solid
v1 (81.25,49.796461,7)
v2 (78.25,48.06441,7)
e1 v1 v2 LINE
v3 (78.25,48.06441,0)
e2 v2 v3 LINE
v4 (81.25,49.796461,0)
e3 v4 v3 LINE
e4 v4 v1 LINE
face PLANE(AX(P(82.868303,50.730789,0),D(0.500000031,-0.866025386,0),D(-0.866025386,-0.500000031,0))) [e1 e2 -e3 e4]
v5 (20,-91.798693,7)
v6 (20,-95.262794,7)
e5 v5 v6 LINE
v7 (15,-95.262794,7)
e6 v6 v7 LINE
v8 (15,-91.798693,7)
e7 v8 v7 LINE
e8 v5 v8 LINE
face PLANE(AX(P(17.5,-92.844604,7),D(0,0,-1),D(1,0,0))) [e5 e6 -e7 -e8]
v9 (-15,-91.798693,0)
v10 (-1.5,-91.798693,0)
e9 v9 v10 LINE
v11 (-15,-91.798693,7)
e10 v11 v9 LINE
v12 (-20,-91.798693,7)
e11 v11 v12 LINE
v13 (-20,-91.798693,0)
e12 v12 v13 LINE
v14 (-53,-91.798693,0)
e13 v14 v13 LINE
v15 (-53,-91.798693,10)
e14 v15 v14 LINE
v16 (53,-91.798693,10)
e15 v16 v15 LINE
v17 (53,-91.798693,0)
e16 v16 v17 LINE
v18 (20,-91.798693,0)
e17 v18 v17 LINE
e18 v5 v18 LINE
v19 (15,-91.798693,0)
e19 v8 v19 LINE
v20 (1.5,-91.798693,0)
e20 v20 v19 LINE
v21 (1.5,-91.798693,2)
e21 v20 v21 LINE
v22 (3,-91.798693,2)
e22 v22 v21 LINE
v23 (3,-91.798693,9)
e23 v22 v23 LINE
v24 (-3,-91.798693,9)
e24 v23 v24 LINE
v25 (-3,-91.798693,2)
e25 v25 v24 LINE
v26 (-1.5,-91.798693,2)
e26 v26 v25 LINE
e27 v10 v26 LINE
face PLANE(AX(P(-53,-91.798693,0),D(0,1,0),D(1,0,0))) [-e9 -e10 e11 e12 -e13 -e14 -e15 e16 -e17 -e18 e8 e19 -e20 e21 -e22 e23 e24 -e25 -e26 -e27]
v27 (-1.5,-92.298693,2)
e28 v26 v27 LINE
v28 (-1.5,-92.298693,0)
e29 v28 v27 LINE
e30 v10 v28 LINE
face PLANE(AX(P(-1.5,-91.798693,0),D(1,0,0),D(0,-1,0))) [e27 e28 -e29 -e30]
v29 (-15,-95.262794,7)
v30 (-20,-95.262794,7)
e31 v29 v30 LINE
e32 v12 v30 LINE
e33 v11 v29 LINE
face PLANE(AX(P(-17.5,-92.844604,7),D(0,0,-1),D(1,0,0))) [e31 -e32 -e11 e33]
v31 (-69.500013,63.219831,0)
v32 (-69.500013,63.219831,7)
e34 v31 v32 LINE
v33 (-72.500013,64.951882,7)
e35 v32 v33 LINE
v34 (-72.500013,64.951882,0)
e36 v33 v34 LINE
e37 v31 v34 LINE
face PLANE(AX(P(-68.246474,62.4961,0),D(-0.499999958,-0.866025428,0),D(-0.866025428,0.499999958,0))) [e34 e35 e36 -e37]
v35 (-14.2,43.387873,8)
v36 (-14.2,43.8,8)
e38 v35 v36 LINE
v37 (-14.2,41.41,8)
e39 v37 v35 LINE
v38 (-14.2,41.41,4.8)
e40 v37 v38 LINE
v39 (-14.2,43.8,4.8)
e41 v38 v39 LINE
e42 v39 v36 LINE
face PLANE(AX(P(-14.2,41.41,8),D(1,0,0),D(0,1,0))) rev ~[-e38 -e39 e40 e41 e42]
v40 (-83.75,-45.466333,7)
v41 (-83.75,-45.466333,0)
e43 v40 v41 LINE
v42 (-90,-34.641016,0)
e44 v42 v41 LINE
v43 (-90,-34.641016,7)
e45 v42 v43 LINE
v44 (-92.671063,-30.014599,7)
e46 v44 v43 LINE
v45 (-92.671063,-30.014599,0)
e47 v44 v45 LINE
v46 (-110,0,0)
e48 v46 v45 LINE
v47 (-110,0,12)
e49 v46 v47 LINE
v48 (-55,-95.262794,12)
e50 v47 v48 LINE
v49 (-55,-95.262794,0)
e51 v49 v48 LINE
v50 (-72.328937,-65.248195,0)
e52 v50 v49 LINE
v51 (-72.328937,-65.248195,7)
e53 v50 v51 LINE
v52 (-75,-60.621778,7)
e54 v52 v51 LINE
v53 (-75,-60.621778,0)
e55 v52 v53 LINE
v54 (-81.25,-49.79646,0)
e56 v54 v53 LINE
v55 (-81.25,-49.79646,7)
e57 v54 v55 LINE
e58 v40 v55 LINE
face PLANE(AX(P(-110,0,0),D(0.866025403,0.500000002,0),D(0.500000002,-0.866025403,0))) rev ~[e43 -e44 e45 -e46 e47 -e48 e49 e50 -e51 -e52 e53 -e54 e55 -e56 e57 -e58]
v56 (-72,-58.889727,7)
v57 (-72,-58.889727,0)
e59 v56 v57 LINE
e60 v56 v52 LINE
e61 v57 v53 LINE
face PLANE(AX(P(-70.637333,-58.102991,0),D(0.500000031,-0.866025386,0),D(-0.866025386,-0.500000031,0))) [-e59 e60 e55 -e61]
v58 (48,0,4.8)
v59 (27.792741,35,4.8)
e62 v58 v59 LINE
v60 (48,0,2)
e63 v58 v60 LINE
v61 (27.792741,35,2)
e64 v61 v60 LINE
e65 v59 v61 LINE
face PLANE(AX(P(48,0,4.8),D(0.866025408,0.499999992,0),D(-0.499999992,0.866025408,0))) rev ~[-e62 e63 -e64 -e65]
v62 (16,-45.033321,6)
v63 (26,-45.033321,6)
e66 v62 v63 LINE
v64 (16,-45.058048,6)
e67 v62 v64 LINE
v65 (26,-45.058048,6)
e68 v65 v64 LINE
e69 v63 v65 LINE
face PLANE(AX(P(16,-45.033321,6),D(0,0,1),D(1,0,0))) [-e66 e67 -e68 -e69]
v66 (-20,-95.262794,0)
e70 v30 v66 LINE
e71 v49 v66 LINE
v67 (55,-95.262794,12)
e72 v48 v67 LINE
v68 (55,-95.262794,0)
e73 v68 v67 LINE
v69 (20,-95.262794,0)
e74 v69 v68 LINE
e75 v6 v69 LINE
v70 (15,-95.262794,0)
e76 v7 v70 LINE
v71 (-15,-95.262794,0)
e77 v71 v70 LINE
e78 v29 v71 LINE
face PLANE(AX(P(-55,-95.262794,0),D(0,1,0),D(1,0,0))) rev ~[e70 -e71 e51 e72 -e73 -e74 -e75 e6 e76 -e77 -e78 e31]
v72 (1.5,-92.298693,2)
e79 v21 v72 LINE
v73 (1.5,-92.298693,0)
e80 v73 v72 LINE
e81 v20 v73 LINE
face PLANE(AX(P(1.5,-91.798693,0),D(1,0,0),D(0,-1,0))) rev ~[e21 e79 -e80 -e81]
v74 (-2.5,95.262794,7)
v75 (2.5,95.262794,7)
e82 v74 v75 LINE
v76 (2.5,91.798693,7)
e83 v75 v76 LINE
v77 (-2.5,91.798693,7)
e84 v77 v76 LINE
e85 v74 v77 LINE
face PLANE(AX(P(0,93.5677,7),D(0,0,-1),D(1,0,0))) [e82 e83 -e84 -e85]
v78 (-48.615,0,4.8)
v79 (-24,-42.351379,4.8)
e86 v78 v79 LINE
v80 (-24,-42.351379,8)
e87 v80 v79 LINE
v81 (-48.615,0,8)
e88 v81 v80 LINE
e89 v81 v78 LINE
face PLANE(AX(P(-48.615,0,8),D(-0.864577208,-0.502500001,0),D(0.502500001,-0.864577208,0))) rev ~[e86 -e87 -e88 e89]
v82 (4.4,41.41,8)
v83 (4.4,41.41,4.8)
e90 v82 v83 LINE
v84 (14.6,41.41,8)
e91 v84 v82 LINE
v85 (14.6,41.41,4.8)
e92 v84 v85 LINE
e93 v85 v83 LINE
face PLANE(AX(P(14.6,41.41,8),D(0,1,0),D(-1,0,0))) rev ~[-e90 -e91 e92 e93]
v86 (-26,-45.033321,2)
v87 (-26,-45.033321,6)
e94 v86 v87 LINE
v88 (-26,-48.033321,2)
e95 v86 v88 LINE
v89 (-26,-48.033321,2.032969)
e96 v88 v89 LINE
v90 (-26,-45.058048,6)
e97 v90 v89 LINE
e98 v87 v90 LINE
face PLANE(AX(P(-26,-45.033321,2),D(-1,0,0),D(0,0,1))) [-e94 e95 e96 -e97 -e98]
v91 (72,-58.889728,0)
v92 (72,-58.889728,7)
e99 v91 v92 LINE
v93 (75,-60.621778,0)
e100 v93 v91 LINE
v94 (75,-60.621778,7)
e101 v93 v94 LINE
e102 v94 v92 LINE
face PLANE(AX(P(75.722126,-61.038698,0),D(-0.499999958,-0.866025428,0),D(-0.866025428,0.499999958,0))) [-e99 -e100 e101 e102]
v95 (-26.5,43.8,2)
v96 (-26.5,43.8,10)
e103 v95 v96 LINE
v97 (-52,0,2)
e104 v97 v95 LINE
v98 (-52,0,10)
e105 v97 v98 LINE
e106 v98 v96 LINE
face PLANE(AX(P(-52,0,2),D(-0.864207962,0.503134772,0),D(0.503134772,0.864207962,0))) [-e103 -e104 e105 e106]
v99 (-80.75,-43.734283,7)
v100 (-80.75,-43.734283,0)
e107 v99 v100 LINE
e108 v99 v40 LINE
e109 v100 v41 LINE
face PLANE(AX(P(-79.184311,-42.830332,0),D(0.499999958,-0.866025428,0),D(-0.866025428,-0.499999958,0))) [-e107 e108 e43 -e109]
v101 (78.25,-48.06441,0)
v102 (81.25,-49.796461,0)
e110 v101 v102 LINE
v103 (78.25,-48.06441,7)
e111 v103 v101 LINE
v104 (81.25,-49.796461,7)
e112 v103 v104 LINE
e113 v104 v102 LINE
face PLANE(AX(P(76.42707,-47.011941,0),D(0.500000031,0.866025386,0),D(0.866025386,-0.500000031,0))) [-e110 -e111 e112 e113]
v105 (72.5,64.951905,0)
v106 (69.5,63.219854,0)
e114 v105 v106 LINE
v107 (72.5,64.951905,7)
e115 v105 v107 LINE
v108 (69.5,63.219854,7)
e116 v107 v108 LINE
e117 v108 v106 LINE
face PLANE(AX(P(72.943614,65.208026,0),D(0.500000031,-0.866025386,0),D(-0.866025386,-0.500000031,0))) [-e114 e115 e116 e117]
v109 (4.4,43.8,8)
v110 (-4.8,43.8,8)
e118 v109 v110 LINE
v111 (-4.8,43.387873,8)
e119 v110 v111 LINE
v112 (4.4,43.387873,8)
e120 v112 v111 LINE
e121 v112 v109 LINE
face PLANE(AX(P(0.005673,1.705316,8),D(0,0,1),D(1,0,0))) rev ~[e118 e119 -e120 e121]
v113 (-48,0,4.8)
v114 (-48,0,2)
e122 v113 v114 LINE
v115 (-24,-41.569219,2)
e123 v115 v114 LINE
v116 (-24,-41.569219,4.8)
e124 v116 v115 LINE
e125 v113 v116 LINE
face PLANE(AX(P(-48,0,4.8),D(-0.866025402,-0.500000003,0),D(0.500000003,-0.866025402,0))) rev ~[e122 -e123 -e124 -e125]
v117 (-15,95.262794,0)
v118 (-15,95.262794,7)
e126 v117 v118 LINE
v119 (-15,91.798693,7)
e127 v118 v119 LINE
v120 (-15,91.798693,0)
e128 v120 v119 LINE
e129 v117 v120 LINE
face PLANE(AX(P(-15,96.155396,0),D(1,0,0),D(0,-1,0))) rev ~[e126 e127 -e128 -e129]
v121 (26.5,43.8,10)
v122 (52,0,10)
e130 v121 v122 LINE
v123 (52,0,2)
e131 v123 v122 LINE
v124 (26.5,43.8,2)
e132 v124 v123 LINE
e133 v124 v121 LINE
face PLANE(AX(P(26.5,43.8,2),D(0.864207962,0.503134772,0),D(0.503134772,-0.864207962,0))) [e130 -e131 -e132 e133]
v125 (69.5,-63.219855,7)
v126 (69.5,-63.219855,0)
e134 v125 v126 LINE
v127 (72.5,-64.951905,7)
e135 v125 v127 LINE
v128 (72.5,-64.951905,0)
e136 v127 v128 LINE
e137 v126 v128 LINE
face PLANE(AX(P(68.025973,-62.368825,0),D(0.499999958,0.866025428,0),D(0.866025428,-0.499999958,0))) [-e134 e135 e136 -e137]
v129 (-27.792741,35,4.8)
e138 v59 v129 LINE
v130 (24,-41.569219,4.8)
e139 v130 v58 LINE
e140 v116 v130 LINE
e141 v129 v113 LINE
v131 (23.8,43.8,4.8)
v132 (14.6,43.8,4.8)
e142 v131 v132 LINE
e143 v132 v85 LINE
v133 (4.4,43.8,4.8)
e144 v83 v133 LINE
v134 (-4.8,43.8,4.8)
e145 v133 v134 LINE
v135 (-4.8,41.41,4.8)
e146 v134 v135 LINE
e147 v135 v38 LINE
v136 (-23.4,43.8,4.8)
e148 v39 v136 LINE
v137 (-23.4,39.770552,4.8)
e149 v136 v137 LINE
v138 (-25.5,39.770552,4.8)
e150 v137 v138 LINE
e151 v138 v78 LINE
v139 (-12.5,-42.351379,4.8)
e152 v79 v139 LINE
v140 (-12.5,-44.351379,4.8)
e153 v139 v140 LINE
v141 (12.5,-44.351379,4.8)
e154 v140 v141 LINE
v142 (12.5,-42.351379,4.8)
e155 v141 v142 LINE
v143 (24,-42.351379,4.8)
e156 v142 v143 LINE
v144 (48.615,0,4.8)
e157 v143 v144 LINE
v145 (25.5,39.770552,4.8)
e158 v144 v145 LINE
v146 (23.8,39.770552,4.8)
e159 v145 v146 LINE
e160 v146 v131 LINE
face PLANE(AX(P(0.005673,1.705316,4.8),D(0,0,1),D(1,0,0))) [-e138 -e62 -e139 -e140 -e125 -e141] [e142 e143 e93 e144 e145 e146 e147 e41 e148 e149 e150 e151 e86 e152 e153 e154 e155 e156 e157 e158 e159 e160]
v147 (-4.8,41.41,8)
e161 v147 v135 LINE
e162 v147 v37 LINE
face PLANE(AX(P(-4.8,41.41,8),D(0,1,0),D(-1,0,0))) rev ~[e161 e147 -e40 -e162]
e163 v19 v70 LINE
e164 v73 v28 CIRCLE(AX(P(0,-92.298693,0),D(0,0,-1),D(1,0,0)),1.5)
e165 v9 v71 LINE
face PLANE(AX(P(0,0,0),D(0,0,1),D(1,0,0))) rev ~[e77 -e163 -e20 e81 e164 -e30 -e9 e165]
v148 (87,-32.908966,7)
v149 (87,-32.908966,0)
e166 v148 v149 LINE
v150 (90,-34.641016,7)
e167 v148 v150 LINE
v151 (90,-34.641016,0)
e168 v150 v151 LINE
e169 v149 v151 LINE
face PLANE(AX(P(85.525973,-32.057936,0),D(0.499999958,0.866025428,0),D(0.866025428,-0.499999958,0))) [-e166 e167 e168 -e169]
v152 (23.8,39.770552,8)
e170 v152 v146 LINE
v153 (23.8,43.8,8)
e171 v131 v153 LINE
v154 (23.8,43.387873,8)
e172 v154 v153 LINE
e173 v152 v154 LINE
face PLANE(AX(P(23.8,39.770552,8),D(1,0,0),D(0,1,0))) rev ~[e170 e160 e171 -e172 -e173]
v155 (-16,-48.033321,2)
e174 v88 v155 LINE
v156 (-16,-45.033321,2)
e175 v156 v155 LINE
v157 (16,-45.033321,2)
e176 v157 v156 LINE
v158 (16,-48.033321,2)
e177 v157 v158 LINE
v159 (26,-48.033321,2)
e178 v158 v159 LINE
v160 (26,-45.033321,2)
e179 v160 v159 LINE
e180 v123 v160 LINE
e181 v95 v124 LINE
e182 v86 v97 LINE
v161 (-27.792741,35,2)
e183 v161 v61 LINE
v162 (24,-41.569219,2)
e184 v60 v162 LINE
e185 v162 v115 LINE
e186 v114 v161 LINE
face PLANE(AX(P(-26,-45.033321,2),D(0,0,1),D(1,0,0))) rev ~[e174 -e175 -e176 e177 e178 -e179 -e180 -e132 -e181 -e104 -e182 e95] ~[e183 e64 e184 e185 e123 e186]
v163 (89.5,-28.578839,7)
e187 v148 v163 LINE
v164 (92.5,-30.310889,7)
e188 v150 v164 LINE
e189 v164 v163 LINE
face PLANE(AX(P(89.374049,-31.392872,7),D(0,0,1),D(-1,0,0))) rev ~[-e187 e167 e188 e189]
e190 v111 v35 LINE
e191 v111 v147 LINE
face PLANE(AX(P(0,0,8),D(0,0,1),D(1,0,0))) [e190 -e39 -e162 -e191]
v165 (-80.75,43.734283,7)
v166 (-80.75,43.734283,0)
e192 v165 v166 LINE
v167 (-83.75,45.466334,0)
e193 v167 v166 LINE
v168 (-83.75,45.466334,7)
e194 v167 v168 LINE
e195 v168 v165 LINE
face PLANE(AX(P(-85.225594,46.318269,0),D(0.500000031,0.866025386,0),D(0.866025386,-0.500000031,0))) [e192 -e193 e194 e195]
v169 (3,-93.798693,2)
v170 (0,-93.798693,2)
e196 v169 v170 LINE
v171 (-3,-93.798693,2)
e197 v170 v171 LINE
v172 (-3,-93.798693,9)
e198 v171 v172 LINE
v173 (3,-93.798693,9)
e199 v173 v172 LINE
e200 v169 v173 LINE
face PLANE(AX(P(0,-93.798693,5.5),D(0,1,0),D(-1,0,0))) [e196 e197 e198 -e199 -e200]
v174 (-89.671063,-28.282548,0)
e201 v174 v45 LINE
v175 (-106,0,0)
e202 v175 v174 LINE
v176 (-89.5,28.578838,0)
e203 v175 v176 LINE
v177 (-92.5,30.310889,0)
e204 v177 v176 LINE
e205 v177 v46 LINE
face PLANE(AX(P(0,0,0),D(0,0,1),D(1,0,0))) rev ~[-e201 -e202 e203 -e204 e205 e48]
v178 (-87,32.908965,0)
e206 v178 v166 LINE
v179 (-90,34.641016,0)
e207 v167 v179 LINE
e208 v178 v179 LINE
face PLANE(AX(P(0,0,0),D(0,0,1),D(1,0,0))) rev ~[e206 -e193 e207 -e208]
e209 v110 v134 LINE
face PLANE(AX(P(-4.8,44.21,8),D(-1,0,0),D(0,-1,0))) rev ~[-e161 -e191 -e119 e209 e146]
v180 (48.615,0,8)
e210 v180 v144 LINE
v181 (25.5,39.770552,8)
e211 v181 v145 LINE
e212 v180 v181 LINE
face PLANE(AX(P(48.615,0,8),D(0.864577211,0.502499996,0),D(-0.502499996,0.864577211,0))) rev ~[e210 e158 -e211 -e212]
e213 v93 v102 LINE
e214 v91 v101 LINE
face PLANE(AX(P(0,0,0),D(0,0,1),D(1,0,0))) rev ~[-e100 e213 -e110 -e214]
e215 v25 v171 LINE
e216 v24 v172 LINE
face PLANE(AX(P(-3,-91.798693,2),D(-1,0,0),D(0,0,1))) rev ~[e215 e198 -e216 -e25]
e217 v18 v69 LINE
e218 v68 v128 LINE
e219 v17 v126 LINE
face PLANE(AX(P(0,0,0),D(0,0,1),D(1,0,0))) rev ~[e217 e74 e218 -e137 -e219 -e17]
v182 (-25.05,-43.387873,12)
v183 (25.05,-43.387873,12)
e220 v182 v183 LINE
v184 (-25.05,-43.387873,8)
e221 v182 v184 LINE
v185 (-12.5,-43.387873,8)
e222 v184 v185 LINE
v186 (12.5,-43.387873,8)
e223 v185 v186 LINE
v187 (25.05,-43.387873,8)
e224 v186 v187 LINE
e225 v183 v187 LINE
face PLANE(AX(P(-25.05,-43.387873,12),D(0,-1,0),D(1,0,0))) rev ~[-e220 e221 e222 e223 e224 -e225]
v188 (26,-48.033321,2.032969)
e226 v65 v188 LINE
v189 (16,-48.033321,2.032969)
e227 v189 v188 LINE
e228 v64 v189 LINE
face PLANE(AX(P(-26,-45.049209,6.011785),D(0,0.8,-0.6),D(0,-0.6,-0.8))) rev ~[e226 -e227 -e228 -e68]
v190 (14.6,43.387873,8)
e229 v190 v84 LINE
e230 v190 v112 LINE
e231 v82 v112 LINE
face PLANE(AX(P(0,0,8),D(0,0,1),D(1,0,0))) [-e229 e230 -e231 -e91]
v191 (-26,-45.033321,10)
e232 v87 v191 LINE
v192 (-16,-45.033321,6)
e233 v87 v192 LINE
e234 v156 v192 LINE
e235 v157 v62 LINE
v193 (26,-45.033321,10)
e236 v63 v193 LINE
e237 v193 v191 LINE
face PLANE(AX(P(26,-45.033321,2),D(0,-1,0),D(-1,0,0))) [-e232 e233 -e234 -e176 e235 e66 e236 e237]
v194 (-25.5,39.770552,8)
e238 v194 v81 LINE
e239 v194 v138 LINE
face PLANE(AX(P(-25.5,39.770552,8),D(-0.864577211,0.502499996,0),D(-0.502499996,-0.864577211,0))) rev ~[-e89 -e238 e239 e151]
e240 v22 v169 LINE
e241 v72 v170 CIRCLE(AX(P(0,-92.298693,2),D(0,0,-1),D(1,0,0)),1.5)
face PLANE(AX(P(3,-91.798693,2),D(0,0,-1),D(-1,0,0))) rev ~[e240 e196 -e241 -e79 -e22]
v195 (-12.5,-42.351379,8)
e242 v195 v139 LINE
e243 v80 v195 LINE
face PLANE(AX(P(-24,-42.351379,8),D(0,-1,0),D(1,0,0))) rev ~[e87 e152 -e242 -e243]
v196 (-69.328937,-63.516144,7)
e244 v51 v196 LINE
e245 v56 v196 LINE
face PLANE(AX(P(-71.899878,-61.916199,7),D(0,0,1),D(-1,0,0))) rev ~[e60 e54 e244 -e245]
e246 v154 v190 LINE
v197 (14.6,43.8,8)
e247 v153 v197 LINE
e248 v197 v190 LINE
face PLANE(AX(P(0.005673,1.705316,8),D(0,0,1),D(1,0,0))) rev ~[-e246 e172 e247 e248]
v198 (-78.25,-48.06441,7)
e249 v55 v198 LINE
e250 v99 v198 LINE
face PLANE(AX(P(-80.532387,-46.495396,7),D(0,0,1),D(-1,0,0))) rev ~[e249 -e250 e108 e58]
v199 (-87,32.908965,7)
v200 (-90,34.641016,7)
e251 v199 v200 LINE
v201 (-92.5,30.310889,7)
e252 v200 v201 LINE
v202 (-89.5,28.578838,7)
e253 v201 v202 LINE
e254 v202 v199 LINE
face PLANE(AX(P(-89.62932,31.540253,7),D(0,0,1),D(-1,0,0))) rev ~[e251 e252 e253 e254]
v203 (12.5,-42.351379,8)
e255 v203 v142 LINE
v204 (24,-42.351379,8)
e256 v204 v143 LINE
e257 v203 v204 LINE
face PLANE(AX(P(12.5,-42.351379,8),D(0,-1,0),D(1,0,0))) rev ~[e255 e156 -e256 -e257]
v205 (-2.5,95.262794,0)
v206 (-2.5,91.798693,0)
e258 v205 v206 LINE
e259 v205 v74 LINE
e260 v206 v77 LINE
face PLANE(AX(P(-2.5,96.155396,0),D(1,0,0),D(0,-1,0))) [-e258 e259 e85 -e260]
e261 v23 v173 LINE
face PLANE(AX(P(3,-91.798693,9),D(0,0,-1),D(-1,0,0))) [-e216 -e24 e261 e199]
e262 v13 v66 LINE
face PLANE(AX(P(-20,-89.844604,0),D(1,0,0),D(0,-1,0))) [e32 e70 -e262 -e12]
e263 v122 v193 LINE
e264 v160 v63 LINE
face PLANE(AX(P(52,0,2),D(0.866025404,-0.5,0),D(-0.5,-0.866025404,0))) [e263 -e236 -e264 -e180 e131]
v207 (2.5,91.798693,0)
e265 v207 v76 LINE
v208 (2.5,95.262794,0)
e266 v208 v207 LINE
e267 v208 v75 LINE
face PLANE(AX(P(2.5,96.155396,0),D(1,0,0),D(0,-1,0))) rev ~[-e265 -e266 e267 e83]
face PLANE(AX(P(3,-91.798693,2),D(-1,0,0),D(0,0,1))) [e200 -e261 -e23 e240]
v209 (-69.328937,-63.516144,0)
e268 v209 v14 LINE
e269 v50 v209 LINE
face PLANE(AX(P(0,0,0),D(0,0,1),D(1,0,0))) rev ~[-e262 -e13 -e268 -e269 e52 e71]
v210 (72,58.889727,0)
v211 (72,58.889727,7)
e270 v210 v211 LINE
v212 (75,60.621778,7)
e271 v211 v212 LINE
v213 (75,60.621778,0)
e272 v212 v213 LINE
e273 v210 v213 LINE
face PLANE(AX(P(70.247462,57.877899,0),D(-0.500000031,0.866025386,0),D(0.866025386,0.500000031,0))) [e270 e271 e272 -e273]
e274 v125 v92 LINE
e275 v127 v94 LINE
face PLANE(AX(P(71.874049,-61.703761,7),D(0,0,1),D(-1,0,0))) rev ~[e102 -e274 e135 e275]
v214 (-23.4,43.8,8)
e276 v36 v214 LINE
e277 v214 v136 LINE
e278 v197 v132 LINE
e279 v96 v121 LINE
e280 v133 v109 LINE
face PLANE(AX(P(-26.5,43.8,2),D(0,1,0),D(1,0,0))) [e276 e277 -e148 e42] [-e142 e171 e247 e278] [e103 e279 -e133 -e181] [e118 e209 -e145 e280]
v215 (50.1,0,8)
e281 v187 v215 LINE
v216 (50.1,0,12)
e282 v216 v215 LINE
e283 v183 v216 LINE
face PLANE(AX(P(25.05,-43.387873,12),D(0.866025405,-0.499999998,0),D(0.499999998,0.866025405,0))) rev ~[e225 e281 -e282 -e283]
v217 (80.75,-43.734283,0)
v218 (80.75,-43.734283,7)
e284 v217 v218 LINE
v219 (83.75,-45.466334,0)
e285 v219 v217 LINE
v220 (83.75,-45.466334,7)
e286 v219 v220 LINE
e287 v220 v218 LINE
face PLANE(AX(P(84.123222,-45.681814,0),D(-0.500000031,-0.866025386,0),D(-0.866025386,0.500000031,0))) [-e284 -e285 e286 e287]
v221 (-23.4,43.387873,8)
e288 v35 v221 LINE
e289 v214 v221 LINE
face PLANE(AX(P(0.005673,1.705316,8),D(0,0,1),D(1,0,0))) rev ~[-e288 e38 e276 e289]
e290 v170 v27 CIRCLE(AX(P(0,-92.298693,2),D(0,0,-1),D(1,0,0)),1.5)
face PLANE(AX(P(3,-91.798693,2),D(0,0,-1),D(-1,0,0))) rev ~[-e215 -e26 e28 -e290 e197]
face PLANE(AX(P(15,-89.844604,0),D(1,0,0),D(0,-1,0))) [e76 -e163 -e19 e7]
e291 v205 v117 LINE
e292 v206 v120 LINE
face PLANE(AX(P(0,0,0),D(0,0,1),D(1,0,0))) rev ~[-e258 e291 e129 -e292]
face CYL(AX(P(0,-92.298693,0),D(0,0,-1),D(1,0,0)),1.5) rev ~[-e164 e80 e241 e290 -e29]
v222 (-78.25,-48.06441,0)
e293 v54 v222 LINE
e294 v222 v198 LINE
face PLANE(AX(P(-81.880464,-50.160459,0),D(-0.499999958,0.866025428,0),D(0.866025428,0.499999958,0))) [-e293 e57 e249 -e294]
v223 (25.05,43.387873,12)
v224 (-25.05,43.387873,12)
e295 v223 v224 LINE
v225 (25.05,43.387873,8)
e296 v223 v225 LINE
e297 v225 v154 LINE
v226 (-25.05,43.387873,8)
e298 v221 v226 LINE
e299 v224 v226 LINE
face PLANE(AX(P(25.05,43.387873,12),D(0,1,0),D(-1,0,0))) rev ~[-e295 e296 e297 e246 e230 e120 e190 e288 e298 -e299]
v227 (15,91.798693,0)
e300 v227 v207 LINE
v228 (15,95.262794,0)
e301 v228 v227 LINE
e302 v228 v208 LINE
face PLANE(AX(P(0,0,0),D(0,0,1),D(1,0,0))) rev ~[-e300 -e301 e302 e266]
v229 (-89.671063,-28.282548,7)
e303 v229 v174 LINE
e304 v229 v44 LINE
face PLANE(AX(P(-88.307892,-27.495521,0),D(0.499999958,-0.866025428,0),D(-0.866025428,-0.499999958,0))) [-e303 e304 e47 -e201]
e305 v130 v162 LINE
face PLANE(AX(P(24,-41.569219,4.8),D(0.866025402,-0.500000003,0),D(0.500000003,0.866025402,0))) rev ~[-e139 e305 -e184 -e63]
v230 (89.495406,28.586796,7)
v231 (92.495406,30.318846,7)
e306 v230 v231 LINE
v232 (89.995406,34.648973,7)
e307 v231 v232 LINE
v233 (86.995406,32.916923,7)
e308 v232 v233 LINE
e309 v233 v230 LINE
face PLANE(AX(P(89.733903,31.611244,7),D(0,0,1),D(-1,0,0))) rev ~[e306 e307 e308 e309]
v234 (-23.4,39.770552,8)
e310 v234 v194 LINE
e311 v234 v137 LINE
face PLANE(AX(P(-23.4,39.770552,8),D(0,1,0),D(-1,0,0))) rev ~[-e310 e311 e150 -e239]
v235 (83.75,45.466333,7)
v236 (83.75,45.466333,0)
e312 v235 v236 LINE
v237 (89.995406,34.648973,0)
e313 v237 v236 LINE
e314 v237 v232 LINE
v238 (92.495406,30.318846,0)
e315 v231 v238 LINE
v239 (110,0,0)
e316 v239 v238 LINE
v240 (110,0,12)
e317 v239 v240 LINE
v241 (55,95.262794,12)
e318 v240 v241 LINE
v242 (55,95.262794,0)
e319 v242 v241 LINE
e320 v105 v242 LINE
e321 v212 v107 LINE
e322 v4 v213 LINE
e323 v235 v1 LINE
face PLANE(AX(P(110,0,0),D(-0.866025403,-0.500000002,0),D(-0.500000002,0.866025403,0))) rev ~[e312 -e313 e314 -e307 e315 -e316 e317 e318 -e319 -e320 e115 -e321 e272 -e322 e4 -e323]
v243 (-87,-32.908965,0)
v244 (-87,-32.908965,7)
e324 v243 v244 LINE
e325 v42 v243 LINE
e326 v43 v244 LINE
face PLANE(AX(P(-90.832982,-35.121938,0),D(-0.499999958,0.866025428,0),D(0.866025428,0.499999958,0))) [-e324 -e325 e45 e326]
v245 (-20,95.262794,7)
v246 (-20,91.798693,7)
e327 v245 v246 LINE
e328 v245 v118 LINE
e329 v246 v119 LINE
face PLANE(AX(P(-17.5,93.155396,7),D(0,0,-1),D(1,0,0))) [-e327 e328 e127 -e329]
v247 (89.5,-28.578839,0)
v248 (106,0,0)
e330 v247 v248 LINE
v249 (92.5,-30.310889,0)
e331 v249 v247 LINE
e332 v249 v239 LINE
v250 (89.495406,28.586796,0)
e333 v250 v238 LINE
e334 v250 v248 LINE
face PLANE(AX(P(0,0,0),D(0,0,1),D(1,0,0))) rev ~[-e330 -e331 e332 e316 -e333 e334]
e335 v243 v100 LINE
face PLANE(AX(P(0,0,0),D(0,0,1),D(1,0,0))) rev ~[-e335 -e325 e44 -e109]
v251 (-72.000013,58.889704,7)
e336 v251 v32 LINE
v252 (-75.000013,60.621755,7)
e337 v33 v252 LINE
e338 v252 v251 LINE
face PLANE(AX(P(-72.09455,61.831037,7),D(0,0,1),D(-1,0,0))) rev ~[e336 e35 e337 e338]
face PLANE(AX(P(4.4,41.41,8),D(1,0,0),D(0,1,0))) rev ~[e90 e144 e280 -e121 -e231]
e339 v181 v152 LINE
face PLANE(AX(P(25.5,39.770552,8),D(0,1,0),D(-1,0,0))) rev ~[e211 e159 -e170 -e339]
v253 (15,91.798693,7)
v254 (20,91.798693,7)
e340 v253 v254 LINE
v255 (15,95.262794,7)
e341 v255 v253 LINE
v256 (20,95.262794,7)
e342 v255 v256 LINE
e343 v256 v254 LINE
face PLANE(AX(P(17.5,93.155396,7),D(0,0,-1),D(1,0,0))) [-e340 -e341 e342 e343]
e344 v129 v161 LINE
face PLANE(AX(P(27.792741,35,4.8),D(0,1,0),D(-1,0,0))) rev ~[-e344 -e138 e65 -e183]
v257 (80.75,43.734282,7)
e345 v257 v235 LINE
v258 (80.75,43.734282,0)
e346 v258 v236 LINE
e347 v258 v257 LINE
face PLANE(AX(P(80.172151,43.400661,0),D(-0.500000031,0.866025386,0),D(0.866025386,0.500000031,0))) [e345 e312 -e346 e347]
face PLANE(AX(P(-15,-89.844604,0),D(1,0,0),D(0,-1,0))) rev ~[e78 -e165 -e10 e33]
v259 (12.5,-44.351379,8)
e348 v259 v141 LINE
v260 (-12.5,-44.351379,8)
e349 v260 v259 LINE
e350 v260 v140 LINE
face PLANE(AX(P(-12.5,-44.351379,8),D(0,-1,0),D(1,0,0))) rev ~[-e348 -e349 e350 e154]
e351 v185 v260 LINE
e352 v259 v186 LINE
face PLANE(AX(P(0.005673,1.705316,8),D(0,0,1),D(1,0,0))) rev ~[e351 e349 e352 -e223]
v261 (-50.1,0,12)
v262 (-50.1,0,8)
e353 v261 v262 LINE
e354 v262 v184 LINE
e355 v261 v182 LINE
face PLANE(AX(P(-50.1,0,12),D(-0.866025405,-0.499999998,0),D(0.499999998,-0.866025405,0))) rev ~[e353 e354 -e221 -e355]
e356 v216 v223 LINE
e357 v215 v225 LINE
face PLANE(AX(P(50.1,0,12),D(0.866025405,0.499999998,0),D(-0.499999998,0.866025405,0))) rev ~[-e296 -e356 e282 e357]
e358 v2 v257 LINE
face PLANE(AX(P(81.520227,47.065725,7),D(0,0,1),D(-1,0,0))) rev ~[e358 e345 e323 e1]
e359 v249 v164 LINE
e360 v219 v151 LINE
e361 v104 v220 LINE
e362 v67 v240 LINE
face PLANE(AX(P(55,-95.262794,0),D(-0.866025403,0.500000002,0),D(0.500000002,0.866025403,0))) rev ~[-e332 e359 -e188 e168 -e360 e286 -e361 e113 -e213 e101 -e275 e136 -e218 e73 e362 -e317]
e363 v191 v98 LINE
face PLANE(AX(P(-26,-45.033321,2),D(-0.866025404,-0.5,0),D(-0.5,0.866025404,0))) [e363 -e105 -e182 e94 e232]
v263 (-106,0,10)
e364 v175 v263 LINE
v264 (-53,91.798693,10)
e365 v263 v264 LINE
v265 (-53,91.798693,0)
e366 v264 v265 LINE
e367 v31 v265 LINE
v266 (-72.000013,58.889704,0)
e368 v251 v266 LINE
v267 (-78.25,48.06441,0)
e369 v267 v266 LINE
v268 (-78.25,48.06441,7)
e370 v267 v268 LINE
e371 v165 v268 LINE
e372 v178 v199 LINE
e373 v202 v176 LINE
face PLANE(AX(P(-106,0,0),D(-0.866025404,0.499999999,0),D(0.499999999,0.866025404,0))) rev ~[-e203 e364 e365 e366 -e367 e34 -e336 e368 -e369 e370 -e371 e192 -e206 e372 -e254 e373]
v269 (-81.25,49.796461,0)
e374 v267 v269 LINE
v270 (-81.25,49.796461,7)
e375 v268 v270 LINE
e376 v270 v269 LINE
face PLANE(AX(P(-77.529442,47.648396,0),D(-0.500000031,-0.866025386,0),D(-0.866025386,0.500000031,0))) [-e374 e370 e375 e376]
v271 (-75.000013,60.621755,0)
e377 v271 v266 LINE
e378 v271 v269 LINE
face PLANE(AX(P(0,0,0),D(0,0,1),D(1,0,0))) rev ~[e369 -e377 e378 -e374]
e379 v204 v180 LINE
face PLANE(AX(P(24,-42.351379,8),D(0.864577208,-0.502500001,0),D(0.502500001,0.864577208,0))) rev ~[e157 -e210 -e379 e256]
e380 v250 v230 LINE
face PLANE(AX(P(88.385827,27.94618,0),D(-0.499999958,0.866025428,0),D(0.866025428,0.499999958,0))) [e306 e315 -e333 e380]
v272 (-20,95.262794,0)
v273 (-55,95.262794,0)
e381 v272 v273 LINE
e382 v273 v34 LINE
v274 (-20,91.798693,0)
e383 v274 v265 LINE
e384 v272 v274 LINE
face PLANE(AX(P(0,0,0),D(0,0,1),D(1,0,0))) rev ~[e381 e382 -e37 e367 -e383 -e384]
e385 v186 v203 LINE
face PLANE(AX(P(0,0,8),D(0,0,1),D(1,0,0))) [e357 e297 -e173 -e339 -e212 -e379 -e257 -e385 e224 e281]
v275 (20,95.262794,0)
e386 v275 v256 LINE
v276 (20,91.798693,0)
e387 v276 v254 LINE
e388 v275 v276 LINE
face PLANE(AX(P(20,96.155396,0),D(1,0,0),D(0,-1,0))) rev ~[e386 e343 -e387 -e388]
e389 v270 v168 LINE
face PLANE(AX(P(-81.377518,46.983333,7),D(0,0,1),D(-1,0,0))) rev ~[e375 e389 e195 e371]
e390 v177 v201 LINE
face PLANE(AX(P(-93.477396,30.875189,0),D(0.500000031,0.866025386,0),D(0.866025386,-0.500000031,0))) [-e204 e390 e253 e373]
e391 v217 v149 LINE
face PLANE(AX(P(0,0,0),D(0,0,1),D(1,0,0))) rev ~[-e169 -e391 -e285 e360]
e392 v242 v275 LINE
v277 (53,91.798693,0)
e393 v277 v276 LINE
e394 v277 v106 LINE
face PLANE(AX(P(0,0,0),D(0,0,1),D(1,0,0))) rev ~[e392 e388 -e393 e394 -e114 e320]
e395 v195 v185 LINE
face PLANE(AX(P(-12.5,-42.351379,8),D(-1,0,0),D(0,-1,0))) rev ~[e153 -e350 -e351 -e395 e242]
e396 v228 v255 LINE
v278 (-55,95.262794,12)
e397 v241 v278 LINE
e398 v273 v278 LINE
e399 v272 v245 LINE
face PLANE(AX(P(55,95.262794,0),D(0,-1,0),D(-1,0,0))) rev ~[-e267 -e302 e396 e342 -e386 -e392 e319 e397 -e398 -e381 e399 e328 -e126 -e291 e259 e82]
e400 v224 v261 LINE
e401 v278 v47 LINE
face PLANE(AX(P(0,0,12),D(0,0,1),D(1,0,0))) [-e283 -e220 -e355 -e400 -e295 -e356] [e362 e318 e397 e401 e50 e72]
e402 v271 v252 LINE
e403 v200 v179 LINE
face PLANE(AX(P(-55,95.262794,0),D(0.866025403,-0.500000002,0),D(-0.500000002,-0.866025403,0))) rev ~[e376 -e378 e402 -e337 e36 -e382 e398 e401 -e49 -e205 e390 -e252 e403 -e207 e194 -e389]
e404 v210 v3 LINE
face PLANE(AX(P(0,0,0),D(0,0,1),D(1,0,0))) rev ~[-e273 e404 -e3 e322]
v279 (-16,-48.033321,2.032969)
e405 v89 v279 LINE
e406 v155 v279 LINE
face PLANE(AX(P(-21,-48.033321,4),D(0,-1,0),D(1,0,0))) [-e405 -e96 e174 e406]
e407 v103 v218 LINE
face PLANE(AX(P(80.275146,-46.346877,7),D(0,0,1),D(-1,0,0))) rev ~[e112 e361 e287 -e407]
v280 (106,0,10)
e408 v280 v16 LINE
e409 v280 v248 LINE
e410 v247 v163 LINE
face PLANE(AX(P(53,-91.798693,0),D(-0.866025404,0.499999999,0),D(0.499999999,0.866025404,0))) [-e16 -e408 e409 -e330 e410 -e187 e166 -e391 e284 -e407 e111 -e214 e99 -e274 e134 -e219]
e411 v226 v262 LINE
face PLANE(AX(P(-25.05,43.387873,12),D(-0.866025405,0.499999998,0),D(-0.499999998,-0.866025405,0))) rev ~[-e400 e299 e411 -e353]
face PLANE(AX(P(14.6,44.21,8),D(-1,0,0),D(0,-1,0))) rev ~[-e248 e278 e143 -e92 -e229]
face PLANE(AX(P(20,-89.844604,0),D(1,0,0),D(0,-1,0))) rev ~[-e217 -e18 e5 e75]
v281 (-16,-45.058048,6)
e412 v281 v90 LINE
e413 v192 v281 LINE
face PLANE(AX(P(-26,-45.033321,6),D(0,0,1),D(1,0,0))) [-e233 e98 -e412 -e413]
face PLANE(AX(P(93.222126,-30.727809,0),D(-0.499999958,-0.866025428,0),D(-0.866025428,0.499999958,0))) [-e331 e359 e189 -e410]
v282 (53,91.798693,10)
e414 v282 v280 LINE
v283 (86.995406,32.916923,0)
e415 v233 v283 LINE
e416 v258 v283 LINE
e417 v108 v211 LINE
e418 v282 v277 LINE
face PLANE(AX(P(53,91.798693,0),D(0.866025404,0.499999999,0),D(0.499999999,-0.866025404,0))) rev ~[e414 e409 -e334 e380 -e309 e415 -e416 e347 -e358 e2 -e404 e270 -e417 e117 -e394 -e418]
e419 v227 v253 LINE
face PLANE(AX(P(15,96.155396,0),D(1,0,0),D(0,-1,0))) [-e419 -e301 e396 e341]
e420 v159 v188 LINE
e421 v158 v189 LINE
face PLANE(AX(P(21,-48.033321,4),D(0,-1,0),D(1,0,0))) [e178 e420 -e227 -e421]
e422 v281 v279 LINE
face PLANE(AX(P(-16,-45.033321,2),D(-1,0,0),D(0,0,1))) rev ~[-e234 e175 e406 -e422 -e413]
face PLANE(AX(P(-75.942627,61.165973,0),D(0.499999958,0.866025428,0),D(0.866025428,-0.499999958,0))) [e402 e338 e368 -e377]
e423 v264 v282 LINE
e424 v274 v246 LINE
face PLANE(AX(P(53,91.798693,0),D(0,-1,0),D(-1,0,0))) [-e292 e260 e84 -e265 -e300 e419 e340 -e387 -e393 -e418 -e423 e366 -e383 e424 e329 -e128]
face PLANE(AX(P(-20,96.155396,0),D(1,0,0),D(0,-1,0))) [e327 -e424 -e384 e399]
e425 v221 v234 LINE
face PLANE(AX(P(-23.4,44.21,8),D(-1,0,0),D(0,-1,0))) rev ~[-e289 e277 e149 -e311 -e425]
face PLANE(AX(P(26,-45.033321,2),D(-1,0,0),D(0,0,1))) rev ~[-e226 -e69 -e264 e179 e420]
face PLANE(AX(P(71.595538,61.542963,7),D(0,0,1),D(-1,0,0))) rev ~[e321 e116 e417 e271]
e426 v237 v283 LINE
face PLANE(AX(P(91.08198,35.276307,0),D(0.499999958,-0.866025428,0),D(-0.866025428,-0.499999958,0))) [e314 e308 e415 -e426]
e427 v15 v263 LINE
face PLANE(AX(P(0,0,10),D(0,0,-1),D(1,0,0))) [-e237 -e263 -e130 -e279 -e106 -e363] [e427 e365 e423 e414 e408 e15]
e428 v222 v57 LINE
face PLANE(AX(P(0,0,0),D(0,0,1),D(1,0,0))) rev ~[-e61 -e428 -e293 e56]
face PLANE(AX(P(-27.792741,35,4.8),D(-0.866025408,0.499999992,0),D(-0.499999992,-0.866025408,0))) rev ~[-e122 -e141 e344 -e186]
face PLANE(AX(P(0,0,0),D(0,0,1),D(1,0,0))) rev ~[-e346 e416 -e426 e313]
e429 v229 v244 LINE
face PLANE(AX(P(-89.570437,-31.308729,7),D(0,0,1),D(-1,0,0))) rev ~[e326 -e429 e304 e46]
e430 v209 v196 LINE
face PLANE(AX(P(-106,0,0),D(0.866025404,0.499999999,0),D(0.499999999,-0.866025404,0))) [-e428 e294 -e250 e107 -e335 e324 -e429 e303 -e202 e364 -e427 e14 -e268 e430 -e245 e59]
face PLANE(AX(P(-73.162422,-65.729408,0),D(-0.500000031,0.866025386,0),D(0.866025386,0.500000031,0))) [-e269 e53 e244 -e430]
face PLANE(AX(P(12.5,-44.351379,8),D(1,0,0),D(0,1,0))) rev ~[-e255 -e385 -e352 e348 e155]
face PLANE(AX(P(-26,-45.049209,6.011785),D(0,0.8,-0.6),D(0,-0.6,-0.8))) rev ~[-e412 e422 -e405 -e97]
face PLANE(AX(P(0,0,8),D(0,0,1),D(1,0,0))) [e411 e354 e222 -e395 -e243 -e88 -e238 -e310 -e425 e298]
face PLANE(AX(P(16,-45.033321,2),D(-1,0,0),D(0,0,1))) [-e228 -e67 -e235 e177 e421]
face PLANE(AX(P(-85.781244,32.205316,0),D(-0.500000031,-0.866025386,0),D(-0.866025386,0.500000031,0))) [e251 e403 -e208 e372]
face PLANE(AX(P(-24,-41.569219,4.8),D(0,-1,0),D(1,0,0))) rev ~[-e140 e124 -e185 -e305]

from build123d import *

# Parameters (mm, degrees)
PAD_DEPTH       = 12
POCKET_DEPTH    = 4
POCKET001_DEPTH = 2
POCKET002_DEPTH = 3.2
POCKET003_DEPTH = 5
POCKET004_DEPTH = 8
SKETCH007_W     = 6
SKETCH007_H     = 7
POCKET005_DEPTH = 2
SKETCH008_W     = 5
SKETCH008_H     = 6
SKETCH008_H_2   = 5.175393
POCKET006_DEPTH = 7
SKETCH009_W     = 10
SKETCH009_H     = 4
PAD001_DEPTH    = 3
POCKET007_DEPTH = 52


with BuildPart() as part:
    # Sketch → Pad (new body)
    with BuildSketch(Plane.XY):
        Polygon((-110, 0), (-55, -95.262794), (55, -95.262794), (110, 0), (55, 95.262794), (-55, 95.262794), align=None)
    extrude(amount=PAD_DEPTH)

    # Sketch001 (on Face8 of Pad) → Pocket (cut)
    with BuildSketch(Plane.XY.offset(12)):
        Polygon((-50.1, 0), (-25.05, -43.387873), (25.05, -43.387873), (50.1, 0), (25.05, 43.387873), (-25.05, 43.387873), align=None)
    extrude(amount=-POCKET_DEPTH, mode=Mode.SUBTRACT)

    # Sketch002 (on Face4 of Pocket) → Pocket001 (cut)
    with BuildSketch(Plane(origin=(0, 0, 0), x_dir=(1, 0, 0), z_dir=(0, 0, -1))):
        with BuildLine():
            Line((-106, 0), (-53, -91.798693))
            Line((53, -91.798693), (-53, -91.798693))
            Line((53, -91.798693), (106, 0))
            Line((53, 91.798693), (106, 0))
            Line((1.5, 91.798693), (53, 91.798693))
            Line((1.5, 91.798693), (1.5, 92.298693))
            ThreePointArc((1.5, 92.298693), (0, 93.798693), (-1.5, 92.298693))
            Line((-1.5, 91.798693), (-1.5, 92.298693))
            Line((-53, 91.798693), (-1.5, 91.798693))
            Line((-106, 0), (-53, 91.798693))
        make_face()
    extrude(amount=-POCKET001_DEPTH, mode=Mode.SUBTRACT)

    # Sketch003 (on Face26 of Pocket001) → Pocket002 (cut)
    with BuildSketch(Plane.XY.offset(8)):
        Polygon((-48.615, 0), (-24, -42.351379), (-12.5, -42.351379), (-12.5, -44.351379), (12.5, -44.351379), (12.5, -42.351379), (24, -42.351379), (48.615, 0), (25.5, 39.770552), (23.8, 39.770552), (23.8, 44.21), (14.6, 44.21), (14.6, 41.41), (4.4, 41.41), (4.4, 44.21), (-4.8, 44.21), (-4.8, 41.41), (-14.2, 41.41), (-14.2, 44.21), (-23.4, 44.21), (-23.4, 39.770552), (-25.5, 39.770552), align=None)
    extrude(amount=-POCKET002_DEPTH, mode=Mode.SUBTRACT)

    # Sketch005 (on Face56 of Pocket002) → Pocket003 (cut)
    with BuildSketch(Plane.XY.offset(4.8)):
        Polygon((-24, -41.569219), (24, -41.569219), (48, 0), (27.792741, 35), (-27.792741, 35), (-48, 0), align=None)
    extrude(amount=-POCKET003_DEPTH, mode=Mode.SUBTRACT)

    # Sketch006 (on Face25 of Pocket003) → Pocket004 (cut)
    with BuildSketch(Plane(origin=(0, 0, 2), x_dir=(1, 0, 0), z_dir=(0, 0, -1))):
        Polygon((106, 0), (53, 91.798693), (-53, 91.798693), (-106, 0), (-53, -91.798693), (53, -91.798693), align=None)
        Polygon((-26.5, -43.8), (26.5, -43.8), (52, 0), (26, 45.033321), (-26, 45.033321), (-52, 0), align=None, mode=Mode.SUBTRACT)
    extrude(amount=-POCKET004_DEPTH, mode=Mode.SUBTRACT)

    # Sketch007 (on Face14 of Pocket004) → Pocket005 (cut)
    with BuildSketch(Plane(origin=(0, -91.798693, 0), x_dir=(-1, 0, 0), z_dir=(0, 1, 0))):
        with Locations((0, 5.5)):
            Rectangle(SKETCH007_W, SKETCH007_H)
    extrude(amount=-POCKET005_DEPTH, mode=Mode.SUBTRACT)

    # Sketch008 (on Face4 of Pocket005) → Pocket006 (cut)
    with BuildSketch(Plane(origin=(0, 0, 0), x_dir=(1, 0, 0), z_dir=(0, 0, -1))):
        with Locations((-17.5, -93.155396)):
            Rectangle(SKETCH008_W, SKETCH008_H)
        with Locations((17.5, -93.155396)):
            Rectangle(SKETCH008_W, SKETCH008_H)
        with Locations((-17.5, 92.844604)):
            Rectangle(SKETCH008_W, SKETCH008_H)
        with Locations((17.5, 92.844604)):
            Rectangle(SKETCH008_W, SKETCH008_H)
        Polygon((72.943614, -65.208026), (67.747462, -62.208026), (70.247462, -57.877899), (75.443614, -60.877899), align=None)
        Polygon((91.08198, -35.276307), (85.885827, -32.276307), (88.385827, -27.94618), (93.58198, -30.94618), align=None)
        Polygon((-88.307892, 27.495521), (-93.504045, 30.495521), (-90.832982, 35.121938), (-85.636829, 32.121938), align=None)
        Polygon((-70.637333, 58.102991), (-75.833485, 61.102991), (-73.162422, 65.729408), (-67.96627, 62.729408), align=None)
        Polygon((68.025973, 62.368825), (73.222126, 65.368825), (75.722126, 61.038698), (70.525973, 58.038698), align=None)
        Polygon((85.525973, 32.057936), (90.722126, 35.057936), (93.222126, 30.727809), (88.025973, 27.727809), align=None)
        Polygon((-93.477396, -30.875189), (-88.281244, -27.875189), (-85.781244, -32.205316), (-90.977396, -35.205316), align=None)
        Polygon((-75.942627, -61.165973), (-70.746474, -58.165973), (-68.246474, -62.4961), (-73.442627, -65.4961), align=None)
        with Locations((0, -93.5677)):
            Rectangle(SKETCH008_W, SKETCH008_H_2)
        Polygon((-85.225594, -46.318269), (-80.029442, -43.318269), (-77.529442, -47.648396), (-82.725594, -50.648396), align=None)
        Polygon((76.42707, 47.011941), (81.623222, 50.011941), (84.123222, 45.681814), (78.92707, 42.681814), align=None)
        Polygon((-79.184311, 42.830332), (-84.380464, 45.830332), (-81.880464, 50.160459), (-76.684311, 47.160459), align=None)
        Polygon((82.868303, -50.730789), (77.672151, -47.730789), (80.172151, -43.400661), (85.368303, -46.400661), align=None)
    extrude(amount=-POCKET006_DEPTH, mode=Mode.SUBTRACT)

    # Sketch009 (on Face116 of Pocket006) → Pad001 (join)
    with BuildSketch(Plane.XZ.offset(45.033321)):
        with Locations((-21, 4)):
            Rectangle(SKETCH009_W, SKETCH009_H)
        with Locations((21, 4)):
            Rectangle(SKETCH009_W, SKETCH009_H)
    extrude(amount=PAD001_DEPTH)

    # Sketch010 (on Face155 of Pad001) → Pocket007 (cut)
    with BuildSketch(Plane(origin=(-26, 0, 0), x_dir=(0, -1, 0), z_dir=(-1, 0, 0))):
        Polygon((45.049209, 6.011785), (48.049209, 2.011785), (48.049209, 6.011785), align=None)
    extrude(amount=-POCKET007_DEPTH, mode=Mode.SUBTRACT)


solid = part.part
